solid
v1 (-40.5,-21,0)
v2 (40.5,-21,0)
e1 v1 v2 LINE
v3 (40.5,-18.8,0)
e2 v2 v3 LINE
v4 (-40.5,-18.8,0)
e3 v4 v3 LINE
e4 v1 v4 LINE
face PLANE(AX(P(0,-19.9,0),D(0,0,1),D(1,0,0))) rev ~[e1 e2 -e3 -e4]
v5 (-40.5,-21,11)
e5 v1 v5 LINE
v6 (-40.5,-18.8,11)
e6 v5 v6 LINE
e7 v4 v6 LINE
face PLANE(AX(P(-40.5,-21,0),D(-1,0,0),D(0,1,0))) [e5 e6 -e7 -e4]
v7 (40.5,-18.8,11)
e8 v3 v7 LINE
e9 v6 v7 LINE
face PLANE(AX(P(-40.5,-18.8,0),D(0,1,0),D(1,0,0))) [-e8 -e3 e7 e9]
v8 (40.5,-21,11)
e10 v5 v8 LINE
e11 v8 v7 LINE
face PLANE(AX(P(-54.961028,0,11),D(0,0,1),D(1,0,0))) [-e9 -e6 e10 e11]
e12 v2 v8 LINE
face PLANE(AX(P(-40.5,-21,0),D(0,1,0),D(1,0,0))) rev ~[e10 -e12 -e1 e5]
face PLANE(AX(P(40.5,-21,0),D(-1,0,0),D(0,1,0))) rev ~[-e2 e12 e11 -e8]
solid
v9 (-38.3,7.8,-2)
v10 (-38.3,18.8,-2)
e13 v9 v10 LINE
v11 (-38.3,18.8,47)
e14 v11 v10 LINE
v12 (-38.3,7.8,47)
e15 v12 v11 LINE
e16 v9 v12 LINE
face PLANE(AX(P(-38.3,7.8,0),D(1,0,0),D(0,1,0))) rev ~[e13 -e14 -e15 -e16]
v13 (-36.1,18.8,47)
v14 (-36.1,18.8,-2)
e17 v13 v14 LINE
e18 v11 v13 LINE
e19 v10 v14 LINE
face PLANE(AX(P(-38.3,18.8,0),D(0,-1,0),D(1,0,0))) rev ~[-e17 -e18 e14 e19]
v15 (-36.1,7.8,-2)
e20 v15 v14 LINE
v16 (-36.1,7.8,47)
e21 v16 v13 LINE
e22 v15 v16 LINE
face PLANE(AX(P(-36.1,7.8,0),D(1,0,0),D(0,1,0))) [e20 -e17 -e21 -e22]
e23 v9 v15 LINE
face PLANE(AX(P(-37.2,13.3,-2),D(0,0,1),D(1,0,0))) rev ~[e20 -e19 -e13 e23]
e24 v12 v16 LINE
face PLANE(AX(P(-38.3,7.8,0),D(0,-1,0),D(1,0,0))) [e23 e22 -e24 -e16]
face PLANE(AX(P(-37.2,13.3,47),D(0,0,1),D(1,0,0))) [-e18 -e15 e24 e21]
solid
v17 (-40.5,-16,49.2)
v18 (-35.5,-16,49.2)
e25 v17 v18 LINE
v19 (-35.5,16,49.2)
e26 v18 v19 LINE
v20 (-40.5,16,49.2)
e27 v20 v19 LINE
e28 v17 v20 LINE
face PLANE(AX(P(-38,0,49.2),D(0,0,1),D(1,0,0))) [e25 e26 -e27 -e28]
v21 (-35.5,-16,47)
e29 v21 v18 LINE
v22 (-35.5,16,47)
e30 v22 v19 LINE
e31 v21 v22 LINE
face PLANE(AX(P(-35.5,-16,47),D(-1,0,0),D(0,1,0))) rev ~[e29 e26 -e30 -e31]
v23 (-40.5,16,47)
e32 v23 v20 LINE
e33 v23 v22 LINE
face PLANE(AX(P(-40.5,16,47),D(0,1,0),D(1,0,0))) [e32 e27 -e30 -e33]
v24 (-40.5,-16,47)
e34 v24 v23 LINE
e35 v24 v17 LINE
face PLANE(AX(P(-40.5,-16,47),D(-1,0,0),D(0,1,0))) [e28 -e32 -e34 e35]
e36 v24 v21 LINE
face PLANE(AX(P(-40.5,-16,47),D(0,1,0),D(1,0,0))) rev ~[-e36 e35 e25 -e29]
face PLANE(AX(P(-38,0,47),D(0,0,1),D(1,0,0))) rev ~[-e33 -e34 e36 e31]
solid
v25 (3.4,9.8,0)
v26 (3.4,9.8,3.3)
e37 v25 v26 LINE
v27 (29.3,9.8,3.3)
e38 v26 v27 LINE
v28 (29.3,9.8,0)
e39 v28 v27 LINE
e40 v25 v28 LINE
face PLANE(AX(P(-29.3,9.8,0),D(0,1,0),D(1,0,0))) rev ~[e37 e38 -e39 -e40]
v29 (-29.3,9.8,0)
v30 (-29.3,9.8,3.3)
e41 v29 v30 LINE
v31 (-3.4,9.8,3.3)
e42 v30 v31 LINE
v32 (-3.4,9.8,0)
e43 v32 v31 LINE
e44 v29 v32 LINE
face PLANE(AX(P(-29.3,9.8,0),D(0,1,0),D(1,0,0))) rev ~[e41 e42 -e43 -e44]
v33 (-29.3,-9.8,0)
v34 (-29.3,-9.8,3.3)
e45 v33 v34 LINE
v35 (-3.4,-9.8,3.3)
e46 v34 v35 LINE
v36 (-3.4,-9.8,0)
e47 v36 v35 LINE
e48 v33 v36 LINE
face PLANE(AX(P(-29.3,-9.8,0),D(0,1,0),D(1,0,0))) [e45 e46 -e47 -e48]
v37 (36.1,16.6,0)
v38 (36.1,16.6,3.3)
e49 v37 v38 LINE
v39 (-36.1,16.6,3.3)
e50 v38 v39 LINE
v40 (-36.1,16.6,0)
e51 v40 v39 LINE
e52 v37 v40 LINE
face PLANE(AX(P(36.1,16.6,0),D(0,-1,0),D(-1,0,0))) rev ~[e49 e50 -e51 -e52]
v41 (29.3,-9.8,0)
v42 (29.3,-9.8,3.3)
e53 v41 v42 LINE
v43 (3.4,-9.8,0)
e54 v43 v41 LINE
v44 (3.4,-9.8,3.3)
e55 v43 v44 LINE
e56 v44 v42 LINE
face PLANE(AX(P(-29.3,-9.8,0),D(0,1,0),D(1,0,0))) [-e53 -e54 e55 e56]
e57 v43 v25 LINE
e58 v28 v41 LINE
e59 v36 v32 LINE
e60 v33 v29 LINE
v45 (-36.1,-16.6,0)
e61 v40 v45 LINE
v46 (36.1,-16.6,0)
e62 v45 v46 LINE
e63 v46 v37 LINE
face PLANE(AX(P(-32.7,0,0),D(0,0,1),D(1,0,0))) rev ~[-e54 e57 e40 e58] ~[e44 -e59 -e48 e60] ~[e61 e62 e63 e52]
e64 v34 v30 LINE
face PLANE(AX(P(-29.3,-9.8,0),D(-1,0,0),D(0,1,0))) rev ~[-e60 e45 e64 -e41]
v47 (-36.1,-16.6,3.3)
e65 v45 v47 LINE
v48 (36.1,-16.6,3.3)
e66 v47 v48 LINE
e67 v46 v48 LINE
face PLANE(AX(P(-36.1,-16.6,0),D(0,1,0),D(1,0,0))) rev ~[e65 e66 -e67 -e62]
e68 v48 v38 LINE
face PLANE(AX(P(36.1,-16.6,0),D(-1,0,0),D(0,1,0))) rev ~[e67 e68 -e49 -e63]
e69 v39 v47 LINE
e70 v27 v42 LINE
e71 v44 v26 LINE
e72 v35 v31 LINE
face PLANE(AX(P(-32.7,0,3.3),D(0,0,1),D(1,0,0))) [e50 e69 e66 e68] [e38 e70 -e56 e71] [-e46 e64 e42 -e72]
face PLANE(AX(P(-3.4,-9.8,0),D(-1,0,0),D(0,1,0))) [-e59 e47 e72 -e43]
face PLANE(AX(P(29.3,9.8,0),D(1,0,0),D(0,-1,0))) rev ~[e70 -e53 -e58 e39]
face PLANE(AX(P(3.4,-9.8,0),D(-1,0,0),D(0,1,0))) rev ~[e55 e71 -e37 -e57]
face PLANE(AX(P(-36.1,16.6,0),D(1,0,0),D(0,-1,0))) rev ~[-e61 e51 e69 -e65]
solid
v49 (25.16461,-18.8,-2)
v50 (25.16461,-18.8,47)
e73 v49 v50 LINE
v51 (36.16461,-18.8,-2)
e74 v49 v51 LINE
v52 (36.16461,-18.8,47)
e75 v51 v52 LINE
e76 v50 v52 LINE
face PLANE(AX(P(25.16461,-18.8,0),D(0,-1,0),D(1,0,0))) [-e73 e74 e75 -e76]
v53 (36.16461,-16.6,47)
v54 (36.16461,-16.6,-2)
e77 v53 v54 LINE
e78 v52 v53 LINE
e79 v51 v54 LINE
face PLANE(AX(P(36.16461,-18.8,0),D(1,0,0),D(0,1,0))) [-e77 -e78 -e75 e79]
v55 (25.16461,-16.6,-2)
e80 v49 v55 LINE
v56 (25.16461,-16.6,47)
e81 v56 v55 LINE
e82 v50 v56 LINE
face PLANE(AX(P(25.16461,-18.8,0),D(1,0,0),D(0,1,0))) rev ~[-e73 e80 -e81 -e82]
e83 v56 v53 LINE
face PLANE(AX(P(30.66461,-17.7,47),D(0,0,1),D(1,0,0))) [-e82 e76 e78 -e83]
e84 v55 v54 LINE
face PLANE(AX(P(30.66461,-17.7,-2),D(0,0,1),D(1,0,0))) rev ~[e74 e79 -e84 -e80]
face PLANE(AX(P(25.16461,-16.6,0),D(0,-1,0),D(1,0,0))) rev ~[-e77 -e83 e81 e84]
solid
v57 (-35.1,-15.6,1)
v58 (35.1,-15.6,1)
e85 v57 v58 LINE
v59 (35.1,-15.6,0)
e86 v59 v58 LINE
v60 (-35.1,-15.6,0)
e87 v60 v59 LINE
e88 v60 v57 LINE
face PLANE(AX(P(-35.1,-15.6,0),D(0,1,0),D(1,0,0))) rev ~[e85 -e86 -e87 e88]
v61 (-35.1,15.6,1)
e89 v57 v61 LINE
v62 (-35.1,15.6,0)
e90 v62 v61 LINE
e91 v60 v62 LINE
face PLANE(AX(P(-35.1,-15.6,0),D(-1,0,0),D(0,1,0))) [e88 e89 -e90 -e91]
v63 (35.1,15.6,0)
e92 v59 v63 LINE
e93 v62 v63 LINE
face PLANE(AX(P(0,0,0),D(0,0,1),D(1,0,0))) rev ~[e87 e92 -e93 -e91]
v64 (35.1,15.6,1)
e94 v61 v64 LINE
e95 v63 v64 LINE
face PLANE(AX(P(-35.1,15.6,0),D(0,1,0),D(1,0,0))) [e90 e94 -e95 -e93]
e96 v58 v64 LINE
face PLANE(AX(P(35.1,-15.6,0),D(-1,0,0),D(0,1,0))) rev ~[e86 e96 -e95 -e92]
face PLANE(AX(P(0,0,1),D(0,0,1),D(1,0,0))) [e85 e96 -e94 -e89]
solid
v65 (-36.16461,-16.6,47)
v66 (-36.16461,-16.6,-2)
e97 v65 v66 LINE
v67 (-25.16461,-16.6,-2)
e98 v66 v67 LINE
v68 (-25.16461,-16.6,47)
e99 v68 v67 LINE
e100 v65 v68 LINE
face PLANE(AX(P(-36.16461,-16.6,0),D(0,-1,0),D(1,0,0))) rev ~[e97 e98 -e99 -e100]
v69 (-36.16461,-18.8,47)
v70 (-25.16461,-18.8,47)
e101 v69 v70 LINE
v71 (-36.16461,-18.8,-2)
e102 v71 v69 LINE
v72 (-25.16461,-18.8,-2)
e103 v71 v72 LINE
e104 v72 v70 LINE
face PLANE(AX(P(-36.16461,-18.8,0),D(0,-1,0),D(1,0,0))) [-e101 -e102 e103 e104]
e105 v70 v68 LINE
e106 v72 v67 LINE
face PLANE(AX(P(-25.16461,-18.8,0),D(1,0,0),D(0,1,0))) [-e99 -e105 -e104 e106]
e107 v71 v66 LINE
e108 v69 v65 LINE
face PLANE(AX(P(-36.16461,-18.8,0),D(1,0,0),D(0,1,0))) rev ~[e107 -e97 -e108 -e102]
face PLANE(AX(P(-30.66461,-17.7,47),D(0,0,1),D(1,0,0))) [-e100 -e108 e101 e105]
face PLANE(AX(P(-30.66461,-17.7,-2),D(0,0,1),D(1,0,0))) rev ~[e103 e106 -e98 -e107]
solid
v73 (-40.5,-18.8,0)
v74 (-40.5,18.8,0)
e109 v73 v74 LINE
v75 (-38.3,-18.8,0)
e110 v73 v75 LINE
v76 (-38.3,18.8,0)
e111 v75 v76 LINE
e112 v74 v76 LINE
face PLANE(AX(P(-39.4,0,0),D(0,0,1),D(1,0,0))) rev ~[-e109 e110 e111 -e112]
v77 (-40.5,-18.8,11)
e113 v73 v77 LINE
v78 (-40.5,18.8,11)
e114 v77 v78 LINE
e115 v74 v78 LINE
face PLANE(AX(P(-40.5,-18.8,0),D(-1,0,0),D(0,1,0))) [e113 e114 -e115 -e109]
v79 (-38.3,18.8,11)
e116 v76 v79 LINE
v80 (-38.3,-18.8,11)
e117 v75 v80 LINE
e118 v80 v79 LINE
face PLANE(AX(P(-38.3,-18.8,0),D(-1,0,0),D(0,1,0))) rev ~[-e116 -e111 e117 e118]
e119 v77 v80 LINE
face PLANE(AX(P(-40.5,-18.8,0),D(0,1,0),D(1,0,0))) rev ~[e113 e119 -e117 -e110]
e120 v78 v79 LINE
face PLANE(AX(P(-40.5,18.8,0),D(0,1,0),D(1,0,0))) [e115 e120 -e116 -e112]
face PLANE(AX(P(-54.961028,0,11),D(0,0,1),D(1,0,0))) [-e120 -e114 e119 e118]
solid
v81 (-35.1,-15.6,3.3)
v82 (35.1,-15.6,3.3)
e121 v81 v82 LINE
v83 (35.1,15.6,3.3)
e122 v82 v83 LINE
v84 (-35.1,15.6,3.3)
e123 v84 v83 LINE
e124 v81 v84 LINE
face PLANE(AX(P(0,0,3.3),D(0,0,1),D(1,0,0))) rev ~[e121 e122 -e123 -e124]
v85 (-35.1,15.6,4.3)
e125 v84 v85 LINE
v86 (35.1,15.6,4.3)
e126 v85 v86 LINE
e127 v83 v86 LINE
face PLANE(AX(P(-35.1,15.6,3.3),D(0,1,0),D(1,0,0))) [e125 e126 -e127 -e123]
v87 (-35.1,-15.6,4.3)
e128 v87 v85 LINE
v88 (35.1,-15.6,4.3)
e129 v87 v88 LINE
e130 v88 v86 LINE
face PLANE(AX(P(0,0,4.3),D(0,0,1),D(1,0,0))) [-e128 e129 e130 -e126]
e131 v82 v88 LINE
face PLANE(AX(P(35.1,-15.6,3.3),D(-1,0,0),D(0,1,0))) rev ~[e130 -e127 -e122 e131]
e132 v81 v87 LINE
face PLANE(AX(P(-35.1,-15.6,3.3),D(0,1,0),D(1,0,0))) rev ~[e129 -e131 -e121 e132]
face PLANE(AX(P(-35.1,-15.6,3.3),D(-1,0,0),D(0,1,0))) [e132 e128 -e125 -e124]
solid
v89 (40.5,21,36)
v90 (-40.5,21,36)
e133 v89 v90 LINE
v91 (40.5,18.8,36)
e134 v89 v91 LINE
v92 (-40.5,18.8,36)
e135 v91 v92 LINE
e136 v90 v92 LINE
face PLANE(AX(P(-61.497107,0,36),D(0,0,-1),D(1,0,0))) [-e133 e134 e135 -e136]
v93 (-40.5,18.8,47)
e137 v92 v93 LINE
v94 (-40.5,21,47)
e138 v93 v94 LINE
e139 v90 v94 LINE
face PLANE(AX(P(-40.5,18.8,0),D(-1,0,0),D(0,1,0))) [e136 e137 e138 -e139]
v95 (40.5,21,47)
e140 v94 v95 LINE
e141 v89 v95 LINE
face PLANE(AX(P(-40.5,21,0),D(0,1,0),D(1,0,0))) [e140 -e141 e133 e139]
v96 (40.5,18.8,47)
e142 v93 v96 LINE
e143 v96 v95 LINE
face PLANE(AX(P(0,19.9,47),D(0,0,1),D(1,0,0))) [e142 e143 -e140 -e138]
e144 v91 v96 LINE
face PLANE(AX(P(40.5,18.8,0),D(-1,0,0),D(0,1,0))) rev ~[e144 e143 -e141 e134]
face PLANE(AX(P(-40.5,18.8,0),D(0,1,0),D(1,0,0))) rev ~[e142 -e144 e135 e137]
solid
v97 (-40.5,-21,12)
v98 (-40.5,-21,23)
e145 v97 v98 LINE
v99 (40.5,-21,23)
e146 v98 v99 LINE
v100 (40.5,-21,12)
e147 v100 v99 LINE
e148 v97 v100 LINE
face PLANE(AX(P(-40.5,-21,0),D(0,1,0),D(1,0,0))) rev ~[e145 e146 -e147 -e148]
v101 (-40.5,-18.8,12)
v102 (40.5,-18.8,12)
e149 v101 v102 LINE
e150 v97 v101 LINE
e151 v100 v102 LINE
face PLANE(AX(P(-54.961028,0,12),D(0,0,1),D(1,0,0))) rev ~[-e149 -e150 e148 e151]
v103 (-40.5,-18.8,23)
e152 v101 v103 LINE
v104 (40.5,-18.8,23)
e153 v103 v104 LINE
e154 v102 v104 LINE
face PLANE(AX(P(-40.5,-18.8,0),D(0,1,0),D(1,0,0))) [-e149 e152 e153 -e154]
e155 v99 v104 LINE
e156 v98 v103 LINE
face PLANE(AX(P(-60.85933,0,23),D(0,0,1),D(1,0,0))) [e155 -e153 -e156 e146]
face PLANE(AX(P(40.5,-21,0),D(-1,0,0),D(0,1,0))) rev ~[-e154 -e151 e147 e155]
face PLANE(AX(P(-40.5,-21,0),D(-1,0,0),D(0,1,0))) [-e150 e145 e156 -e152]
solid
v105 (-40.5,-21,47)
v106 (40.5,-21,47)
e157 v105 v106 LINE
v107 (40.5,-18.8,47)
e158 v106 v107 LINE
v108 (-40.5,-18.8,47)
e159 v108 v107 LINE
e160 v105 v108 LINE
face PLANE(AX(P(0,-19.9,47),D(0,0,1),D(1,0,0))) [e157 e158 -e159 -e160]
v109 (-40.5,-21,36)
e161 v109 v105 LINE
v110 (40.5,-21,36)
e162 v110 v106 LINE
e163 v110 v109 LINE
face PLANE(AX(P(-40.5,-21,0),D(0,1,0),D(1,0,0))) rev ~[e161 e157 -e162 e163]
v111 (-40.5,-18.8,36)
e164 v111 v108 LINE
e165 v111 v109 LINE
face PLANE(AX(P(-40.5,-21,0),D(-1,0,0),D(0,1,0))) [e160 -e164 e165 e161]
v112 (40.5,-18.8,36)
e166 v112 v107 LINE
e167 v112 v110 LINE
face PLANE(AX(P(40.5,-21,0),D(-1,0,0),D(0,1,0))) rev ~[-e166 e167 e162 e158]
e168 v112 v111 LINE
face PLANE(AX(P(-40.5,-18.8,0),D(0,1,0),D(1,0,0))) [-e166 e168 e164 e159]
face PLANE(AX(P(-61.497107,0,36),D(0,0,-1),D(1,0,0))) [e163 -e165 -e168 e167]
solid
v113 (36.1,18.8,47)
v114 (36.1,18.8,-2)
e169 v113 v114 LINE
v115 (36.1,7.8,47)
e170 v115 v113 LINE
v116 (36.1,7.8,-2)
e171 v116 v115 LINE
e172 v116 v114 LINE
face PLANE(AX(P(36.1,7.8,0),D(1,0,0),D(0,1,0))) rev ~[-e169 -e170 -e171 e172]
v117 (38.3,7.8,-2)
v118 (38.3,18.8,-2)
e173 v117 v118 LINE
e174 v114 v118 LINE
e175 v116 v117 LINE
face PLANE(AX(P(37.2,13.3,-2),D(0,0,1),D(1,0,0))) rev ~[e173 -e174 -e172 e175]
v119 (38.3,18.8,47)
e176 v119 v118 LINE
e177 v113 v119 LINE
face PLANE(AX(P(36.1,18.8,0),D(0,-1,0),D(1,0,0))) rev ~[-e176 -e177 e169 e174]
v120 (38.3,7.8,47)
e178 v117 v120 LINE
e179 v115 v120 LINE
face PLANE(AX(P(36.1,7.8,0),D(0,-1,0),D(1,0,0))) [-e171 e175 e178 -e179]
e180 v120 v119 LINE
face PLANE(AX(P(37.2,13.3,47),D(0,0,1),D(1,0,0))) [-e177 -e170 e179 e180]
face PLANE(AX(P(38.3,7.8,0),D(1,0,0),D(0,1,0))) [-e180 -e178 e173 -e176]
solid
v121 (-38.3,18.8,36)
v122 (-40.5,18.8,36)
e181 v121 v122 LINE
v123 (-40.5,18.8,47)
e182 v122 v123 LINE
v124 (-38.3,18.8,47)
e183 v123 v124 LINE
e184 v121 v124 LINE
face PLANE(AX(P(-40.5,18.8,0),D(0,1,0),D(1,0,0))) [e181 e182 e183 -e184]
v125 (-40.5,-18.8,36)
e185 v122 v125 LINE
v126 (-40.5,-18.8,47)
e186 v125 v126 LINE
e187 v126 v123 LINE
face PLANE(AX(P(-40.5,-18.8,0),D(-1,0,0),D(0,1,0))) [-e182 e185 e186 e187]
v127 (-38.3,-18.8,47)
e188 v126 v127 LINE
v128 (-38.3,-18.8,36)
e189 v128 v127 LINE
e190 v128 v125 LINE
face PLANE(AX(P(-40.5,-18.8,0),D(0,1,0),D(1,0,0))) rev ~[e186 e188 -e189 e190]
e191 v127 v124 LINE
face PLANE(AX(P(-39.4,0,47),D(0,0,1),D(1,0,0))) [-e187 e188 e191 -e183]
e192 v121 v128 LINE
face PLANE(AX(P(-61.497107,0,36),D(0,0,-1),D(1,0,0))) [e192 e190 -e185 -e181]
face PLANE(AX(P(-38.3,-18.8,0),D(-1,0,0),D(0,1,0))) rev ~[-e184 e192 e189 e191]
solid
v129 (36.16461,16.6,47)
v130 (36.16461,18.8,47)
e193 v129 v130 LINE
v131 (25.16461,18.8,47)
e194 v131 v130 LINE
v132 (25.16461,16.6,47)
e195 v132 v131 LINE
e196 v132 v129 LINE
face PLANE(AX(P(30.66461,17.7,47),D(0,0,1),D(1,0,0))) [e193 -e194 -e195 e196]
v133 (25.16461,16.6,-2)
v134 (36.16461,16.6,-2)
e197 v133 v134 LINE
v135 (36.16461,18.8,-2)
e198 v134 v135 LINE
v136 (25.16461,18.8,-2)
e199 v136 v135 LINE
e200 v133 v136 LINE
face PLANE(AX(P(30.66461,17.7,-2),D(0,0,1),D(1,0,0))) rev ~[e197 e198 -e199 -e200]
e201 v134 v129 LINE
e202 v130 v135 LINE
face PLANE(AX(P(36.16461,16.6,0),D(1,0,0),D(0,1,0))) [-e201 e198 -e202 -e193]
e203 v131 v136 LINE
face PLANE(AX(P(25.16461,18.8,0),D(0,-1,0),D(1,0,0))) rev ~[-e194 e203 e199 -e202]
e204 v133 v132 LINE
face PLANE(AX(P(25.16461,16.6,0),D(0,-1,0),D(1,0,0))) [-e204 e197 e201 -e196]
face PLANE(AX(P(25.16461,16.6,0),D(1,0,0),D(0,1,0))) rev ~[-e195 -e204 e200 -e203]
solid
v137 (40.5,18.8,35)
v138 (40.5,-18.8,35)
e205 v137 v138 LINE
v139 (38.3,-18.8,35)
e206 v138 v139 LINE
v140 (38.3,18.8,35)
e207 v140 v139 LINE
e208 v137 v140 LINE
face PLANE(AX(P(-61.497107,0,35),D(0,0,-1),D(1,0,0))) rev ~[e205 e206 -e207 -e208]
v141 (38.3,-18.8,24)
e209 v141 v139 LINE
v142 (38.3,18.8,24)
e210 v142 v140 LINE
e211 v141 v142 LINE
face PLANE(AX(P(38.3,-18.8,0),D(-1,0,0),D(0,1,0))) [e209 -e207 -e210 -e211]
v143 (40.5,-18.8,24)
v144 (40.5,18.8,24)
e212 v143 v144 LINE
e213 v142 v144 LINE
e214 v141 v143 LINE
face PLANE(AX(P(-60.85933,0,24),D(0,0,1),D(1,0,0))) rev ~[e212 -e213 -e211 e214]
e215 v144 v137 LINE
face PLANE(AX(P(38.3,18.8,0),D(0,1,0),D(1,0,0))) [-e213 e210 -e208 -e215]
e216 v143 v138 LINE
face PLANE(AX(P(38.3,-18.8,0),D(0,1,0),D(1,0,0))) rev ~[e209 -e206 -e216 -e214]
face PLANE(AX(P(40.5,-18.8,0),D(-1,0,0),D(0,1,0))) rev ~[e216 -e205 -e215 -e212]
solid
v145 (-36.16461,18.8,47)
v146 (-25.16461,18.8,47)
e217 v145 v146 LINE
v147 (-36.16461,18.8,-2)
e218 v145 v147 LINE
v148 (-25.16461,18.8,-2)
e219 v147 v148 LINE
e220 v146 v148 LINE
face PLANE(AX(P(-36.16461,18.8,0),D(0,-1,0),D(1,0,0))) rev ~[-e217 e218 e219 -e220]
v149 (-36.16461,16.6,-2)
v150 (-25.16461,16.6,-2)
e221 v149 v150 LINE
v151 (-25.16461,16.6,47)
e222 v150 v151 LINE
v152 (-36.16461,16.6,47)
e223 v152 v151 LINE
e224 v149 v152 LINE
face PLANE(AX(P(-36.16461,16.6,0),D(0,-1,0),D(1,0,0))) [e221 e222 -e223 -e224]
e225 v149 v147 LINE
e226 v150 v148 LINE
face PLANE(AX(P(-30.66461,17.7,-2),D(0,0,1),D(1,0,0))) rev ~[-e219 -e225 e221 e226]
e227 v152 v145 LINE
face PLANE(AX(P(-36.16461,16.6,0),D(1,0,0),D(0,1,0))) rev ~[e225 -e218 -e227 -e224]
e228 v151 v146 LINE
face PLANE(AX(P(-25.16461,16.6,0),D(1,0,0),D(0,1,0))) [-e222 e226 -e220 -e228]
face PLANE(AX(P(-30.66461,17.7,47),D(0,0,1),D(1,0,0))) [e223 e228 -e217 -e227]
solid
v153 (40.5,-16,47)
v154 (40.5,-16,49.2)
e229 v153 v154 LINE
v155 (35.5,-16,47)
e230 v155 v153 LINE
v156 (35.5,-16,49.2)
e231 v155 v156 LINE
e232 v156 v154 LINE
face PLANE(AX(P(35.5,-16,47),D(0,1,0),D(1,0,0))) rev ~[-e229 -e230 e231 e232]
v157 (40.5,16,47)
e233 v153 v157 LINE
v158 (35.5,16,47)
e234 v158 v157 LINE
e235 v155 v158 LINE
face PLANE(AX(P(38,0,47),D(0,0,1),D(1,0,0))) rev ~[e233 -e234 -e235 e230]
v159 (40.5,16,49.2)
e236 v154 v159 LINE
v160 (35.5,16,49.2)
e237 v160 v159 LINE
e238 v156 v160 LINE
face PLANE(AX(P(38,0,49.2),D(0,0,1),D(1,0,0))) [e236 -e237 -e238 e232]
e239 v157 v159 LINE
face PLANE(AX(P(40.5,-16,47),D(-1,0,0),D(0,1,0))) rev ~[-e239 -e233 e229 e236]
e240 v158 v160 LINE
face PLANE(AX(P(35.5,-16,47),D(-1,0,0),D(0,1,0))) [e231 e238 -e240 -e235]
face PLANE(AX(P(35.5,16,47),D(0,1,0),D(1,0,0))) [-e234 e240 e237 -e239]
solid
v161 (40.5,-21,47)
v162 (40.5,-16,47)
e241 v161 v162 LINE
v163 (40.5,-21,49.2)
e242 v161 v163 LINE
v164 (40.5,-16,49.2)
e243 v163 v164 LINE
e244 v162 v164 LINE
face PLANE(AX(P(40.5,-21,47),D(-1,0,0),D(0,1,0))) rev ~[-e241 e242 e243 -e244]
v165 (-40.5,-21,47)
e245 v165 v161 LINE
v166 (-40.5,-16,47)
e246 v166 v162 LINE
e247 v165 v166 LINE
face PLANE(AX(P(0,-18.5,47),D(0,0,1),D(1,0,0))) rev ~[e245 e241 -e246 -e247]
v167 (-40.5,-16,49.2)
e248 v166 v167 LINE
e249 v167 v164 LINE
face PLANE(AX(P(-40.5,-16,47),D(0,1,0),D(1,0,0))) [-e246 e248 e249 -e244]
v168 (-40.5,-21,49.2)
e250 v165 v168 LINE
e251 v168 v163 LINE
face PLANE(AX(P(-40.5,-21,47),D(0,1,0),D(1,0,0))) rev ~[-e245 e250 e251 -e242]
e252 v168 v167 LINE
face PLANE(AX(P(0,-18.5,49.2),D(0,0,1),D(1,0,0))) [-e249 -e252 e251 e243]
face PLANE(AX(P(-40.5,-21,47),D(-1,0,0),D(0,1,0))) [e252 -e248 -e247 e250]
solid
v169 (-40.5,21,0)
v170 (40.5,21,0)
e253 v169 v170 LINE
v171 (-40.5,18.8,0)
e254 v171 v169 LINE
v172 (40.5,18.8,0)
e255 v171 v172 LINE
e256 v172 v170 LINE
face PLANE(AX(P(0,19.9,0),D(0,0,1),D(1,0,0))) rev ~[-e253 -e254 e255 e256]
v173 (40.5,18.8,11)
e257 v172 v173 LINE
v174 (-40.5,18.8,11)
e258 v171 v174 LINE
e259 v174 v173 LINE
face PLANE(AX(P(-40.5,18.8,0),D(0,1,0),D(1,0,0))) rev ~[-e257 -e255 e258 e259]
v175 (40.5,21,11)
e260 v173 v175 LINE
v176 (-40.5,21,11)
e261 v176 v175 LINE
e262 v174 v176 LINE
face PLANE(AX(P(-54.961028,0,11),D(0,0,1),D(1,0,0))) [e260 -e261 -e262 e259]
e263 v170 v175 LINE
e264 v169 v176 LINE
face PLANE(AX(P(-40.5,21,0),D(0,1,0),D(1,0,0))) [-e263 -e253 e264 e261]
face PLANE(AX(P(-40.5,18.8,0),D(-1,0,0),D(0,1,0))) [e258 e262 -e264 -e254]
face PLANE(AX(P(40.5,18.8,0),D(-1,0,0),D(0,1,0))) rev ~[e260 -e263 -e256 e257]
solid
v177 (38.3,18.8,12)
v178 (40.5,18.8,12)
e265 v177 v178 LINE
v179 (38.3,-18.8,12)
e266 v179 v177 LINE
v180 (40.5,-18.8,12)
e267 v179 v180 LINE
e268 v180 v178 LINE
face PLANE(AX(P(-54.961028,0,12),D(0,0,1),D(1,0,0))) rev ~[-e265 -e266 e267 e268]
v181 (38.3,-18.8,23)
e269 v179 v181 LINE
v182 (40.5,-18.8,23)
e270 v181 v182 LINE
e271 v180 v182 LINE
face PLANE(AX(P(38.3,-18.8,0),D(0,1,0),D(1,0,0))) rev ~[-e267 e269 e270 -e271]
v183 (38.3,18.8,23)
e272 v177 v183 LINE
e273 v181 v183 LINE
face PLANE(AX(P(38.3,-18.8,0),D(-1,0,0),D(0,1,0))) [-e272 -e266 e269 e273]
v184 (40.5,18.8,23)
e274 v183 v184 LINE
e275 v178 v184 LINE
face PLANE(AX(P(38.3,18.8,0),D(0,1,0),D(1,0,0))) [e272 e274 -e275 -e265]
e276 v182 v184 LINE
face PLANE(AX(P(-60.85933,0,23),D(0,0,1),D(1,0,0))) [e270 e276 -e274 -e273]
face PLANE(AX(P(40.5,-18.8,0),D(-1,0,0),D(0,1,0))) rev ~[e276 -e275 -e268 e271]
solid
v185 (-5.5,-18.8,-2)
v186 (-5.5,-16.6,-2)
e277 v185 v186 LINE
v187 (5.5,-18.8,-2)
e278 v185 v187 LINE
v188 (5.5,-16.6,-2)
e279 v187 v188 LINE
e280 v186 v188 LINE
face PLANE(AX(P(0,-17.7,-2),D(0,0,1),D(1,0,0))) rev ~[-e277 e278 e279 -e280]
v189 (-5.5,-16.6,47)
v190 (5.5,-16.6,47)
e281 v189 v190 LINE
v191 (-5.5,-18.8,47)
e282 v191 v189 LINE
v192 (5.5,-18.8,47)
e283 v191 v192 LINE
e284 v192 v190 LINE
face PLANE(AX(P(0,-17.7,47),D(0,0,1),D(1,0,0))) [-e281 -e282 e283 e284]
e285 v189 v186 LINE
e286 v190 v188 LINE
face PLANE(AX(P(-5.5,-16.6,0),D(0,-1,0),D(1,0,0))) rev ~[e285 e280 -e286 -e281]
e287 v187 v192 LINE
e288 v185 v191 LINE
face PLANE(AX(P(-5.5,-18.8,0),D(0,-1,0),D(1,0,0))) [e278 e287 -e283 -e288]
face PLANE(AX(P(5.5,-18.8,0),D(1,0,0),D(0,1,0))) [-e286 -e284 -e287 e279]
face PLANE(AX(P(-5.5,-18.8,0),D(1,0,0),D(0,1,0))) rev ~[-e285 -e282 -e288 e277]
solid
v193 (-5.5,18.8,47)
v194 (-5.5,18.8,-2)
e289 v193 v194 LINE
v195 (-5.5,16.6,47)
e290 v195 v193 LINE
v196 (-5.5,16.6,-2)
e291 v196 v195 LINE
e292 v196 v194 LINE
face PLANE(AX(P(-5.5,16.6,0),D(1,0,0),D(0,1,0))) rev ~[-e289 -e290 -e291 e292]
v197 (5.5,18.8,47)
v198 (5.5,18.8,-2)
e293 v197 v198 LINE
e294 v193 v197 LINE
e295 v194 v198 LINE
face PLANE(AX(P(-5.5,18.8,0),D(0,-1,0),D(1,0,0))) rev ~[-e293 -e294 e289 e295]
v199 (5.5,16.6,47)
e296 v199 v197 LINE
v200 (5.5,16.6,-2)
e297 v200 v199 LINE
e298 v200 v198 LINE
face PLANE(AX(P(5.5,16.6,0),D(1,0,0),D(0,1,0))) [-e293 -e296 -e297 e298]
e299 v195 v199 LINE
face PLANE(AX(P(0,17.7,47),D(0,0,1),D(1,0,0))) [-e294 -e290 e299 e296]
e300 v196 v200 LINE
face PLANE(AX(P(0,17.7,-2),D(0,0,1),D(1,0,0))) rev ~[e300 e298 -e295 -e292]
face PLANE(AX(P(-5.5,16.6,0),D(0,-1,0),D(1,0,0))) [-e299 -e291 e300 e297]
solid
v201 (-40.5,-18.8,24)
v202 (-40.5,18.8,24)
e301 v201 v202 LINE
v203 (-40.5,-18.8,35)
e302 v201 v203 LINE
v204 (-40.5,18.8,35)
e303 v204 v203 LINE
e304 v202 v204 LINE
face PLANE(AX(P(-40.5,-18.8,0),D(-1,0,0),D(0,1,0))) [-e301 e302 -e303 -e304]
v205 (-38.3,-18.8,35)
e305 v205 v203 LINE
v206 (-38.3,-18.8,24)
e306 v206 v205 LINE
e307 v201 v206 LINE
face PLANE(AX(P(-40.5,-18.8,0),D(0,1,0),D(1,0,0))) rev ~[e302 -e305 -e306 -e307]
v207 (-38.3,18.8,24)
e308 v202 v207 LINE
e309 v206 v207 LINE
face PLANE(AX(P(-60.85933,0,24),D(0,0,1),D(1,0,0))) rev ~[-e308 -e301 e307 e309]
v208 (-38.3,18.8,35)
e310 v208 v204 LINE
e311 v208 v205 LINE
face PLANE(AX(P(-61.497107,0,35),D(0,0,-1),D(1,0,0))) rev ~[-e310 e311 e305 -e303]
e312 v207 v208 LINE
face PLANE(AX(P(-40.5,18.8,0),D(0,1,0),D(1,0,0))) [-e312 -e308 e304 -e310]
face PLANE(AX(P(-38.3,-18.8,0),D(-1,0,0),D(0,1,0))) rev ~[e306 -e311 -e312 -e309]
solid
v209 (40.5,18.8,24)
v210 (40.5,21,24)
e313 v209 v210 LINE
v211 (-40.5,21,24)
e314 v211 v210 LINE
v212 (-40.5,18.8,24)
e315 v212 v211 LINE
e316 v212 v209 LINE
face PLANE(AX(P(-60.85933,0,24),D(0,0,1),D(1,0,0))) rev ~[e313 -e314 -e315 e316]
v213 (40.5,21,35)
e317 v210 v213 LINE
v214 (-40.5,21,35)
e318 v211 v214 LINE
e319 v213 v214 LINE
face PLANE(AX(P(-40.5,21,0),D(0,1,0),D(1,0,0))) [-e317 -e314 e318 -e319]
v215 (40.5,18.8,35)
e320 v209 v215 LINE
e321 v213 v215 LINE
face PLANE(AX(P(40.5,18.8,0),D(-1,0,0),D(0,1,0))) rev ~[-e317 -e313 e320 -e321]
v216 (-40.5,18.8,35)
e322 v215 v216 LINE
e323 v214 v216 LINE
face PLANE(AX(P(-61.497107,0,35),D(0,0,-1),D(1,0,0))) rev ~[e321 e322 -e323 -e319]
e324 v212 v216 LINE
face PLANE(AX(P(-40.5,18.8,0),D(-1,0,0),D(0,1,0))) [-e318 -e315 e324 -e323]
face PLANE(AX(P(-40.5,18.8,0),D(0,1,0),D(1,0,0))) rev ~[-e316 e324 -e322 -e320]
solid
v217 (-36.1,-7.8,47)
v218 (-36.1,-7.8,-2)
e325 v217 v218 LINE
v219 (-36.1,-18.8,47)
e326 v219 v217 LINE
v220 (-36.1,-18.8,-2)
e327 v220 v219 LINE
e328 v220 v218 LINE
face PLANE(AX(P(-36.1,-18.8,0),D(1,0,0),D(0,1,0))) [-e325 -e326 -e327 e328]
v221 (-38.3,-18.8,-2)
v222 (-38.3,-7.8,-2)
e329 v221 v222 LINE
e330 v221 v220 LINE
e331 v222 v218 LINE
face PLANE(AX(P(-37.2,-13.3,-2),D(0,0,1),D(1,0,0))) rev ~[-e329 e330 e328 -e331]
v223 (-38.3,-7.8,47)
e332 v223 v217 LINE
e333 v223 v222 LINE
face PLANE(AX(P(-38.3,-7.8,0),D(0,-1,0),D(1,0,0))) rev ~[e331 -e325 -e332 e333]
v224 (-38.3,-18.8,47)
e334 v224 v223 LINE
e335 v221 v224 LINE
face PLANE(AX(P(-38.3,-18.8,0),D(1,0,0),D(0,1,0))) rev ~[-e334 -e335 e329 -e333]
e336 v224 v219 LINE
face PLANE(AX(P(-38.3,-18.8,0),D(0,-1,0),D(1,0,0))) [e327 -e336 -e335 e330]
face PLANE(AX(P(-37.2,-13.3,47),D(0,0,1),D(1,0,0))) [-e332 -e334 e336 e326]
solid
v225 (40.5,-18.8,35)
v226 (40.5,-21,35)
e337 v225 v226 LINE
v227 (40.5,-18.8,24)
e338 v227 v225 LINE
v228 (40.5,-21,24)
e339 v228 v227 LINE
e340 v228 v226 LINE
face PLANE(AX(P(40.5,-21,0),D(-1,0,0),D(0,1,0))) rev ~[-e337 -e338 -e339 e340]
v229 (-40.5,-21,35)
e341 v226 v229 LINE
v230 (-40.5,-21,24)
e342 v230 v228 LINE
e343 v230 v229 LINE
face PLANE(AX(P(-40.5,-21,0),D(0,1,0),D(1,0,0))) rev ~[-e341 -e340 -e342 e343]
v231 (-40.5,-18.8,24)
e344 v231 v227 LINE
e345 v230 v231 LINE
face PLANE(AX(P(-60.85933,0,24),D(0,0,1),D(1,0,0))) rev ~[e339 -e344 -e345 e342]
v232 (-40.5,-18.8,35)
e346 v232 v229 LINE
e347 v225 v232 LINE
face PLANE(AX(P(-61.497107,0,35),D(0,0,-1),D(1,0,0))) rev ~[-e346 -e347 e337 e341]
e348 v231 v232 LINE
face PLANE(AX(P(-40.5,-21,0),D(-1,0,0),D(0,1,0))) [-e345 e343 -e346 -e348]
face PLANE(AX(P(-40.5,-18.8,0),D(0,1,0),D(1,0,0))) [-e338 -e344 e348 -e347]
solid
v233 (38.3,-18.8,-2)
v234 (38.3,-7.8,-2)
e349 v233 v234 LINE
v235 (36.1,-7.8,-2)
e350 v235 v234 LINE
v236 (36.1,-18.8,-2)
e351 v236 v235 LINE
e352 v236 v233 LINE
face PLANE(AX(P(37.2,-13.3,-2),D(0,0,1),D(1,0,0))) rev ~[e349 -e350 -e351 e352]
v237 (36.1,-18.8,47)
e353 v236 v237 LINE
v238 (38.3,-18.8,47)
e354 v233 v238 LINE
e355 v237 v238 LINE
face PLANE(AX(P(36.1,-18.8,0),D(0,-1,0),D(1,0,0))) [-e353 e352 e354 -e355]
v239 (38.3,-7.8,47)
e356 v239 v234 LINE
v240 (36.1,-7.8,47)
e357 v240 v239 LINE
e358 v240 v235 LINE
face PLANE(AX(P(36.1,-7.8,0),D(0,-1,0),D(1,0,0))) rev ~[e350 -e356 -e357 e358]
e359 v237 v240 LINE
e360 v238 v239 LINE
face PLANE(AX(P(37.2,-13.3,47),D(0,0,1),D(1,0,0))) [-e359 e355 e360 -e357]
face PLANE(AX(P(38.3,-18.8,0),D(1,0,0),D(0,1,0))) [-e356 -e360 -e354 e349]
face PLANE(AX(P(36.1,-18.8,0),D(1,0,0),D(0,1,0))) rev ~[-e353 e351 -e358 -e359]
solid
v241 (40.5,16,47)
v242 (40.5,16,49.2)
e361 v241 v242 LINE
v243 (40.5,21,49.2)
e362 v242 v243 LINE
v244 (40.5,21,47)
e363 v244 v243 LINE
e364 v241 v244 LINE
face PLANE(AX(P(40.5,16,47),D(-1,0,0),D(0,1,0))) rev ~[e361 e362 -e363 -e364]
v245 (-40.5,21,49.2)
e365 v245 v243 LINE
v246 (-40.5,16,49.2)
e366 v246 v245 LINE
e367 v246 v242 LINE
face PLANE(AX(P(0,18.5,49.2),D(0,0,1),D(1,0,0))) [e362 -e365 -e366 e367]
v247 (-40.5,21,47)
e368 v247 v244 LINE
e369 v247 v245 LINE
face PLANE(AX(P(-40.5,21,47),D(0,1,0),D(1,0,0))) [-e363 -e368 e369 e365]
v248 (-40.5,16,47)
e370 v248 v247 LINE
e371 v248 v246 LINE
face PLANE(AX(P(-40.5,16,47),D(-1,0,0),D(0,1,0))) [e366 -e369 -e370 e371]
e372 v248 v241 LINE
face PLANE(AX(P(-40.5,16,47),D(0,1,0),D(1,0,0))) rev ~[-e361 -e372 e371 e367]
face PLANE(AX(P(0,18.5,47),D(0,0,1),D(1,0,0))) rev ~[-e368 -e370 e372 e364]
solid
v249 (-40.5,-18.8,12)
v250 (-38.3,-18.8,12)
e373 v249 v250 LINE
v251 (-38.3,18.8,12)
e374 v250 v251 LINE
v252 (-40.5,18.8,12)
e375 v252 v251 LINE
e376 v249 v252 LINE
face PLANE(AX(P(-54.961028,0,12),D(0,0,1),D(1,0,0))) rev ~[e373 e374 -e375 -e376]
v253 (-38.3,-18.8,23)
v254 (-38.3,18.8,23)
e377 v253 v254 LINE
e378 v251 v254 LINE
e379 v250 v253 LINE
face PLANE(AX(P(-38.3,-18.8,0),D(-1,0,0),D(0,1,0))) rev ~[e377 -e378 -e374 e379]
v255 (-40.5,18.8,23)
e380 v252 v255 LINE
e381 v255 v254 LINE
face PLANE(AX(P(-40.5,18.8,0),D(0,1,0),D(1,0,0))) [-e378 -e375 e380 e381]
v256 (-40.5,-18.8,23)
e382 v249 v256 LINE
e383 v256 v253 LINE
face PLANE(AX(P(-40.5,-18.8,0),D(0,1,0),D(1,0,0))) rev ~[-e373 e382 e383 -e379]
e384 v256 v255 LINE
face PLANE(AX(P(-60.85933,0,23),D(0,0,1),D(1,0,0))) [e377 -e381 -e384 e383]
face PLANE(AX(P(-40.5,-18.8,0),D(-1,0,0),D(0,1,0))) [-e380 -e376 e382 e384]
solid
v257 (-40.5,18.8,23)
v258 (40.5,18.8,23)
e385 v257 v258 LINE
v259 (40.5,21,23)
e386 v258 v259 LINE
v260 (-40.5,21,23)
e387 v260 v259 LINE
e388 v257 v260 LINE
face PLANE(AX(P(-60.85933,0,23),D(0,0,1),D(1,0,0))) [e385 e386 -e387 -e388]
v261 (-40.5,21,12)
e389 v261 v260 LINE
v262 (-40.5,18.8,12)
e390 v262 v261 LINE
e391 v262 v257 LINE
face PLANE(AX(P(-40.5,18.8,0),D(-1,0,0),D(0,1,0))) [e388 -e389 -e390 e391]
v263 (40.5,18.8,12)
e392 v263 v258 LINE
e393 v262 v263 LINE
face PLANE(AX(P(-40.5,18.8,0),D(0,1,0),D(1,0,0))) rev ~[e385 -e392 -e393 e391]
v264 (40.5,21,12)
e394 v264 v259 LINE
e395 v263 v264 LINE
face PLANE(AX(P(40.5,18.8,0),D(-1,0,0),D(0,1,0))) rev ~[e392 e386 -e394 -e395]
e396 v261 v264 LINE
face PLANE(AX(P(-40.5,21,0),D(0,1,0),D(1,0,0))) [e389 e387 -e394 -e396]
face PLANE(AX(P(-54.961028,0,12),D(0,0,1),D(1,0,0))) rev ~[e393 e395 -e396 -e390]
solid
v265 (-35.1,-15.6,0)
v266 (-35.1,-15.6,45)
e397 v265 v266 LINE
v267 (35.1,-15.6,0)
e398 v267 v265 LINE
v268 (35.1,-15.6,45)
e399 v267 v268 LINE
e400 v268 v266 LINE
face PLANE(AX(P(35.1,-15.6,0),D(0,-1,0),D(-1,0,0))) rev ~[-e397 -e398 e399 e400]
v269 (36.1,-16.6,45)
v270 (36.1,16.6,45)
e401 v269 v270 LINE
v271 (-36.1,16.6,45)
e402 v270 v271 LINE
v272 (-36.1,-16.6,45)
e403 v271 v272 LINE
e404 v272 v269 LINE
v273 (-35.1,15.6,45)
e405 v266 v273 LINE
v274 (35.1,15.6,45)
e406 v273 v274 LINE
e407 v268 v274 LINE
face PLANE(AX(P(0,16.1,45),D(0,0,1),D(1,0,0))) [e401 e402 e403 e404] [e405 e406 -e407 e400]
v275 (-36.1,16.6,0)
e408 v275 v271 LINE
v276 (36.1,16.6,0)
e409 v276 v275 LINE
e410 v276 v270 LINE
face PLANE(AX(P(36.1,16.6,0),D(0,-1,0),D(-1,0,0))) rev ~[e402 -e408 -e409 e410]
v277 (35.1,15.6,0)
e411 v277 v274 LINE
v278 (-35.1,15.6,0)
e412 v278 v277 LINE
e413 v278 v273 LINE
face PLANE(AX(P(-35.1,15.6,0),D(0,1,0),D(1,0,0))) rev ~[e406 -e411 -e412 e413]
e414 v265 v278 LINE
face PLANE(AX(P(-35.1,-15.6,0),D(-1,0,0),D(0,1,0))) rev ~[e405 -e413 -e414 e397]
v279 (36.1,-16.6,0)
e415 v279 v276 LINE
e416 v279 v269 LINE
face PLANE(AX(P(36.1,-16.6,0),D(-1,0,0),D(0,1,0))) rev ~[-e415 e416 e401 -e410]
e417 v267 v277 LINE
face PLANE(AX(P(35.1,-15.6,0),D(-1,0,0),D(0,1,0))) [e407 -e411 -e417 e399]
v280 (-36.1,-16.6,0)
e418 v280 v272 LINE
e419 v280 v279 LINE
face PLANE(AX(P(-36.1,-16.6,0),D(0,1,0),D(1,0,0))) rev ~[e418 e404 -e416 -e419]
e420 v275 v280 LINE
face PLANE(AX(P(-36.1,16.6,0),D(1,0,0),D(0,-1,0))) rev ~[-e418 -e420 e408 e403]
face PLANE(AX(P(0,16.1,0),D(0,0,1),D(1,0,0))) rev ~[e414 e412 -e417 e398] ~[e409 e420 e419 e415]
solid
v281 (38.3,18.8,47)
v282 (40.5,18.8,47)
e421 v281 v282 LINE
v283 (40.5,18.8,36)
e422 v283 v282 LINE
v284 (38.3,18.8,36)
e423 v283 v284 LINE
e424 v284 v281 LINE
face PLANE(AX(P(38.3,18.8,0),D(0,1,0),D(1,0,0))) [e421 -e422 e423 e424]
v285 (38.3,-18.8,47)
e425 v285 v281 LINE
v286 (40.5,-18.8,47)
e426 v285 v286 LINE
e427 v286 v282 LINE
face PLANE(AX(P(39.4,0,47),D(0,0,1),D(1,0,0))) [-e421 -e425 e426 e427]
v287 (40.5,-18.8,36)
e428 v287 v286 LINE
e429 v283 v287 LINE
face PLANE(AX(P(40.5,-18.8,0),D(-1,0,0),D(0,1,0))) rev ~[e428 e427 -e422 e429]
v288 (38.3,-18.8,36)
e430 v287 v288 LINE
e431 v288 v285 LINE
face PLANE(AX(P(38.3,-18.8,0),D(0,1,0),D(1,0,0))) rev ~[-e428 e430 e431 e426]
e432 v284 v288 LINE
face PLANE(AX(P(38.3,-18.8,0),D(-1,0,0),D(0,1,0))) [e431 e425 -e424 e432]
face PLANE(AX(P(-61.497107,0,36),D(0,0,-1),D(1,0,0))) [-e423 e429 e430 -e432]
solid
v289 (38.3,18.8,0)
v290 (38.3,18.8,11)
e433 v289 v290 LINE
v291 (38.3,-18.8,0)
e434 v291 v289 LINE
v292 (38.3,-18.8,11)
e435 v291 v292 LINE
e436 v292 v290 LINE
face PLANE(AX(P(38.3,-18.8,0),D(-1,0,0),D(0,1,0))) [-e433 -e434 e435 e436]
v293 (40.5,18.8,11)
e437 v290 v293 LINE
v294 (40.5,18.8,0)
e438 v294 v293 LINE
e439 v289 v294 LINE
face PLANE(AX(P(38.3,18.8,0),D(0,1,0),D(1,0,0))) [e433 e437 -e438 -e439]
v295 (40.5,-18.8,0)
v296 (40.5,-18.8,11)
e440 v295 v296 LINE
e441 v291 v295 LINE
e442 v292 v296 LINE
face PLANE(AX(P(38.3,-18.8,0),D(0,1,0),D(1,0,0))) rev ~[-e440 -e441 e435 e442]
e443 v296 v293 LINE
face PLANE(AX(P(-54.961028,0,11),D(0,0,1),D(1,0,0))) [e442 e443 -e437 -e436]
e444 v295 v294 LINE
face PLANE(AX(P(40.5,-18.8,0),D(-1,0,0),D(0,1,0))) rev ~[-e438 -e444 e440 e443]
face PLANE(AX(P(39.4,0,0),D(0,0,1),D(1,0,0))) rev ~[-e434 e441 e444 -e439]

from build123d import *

# Parameters (mm, degrees)
F2_W           = 2.2
F2_H           = 37.6
F3_DEPTH       = 47
F1_W           = 81
F1_H           = 2.2
F4_W           = 114.100013802
F4_H           = 1
F4_W_2         = 121.7789687216
F4_W_3         = 120.9573857486
F5_DEPTH       = 30
F6_W           = 2.2
F6_H           = 11
F7_DEPTH       = 47
F7_DEPTH_BACK  = 2
F8_W           = 11
F8_H           = 2.2
F9_DEPTH       = 47
F9_DEPTH_BACK  = 2
F10_W          = 58.6
F10_H          = 6.8
F11_DEPTH      = 3.3
F12_W          = 6.8
F12_H          = 19.6
F13_DEPTH      = 3.3
F14_W          = 1
F14_H          = 31.2
F15_DEPTH      = 45
F16_W          = 70.2
F16_H          = 31.2
F17_DEPTH      = 1
F18_W          = 81
F18_H          = 5
F19_DEPTH      = 2.2
F20_W          = 5
F20_H          = 32
F21_DEPTH      = 2.2
F22_W          = 70.2
F22_H          = 31.2
F23_DEPTH      = 1
F24_W          = 11
F24_H          = 2.2
F25_DEPTH      = 47
F25_DEPTH_BACK = 2


with BuildPart() as f3:
    # F2 (on Top) → F3 (new body)
    with BuildSketch(Plane.XY):
        with Locations((-39.4, 0)):
            Rectangle(F2_W, F2_H)
    extrude(amount=F3_DEPTH)


with BuildPart() as f3b:
    # F2 (on Top) → F3, piece 2 (new body)
    with BuildSketch(Plane.XY):
        with Locations((39.4, 0)):
            Rectangle(F2_W, F2_H)
    extrude(amount=F3_DEPTH)


with BuildPart() as f3c:
    # F1 (on Top) → F3, piece 3 (new body)
    with BuildSketch(Plane.XY):
        with Locations((0, 19.9)):
            Rectangle(F1_W, F1_H)
    extrude(amount=F3_DEPTH)


with BuildPart() as f3d:
    # F1 (on Top) → F3, piece 4 (new body)
    with BuildSketch(Plane.XY):
        with Locations((0, -19.9)):
            Rectangle(F1_W, F1_H)
    extrude(amount=F3_DEPTH)


with BuildPart() as f5_tool:
    # F4 (on Front) → F5 (new body, symmetric)
    with BuildSketch(Plane.XZ):
        with Locations((2.0889788866, 11.5)):
            Rectangle(F4_W, F4_H)
        with Locations((0.0301543623, 23.5)):
            Rectangle(F4_W_2, F4_H)
        with Locations((-1.0184142739, 35.5)):
            Rectangle(F4_W_3, F4_H)
    extrude(amount=F5_DEPTH, both=True)


with BuildPart() as f3_1:
    add(f3.part)

    # F5: cut by f5_tool
    add(f5_tool.part, mode=Mode.SUBTRACT)


with BuildPart() as f3b_1:
    add(f3b.part)

    # F5: cut by f5_tool
    add(f5_tool.part, mode=Mode.SUBTRACT)


with BuildPart() as f3c_1:
    add(f3c.part)

    # F5: cut by f5_tool
    add(f5_tool.part, mode=Mode.SUBTRACT)


with BuildPart() as f3d_1:
    add(f3d.part)

    # F5: cut by f5_tool
    add(f5_tool.part, mode=Mode.SUBTRACT)


with BuildPart() as f7:
    # F6 (on Top) → F7 (new body, two sides)
    with BuildSketch(Plane.XY) as f7_sk:
        with Locations((-37.2, 13.3)):
            Rectangle(F6_W, F6_H)
    extrude(amount=F7_DEPTH)
    extrude(f7_sk.sketch, amount=-F7_DEPTH_BACK)


with BuildPart() as f7b:
    # F6 (on Top) → F7, piece 2 (new body, two sides)
    with BuildSketch(Plane.XY) as f7_2_sk:
        with Locations((-37.2, -13.3)):
            Rectangle(F6_W, F6_H)
    extrude(amount=F7_DEPTH)
    extrude(f7_2_sk.sketch, amount=-F7_DEPTH_BACK)


with BuildPart() as f7c:
    # F6 (on Top) → F7, piece 3 (new body, two sides)
    with BuildSketch(Plane.XY) as f7_3_sk:
        with Locations((37.2, 13.3)):
            Rectangle(F6_W, F6_H)
    extrude(amount=F7_DEPTH)
    extrude(f7_3_sk.sketch, amount=-F7_DEPTH_BACK)


with BuildPart() as f7d:
    # F6 (on Top) → F7, piece 4 (new body, two sides)
    with BuildSketch(Plane.XY) as f7_4_sk:
        with Locations((37.2, -13.3)):
            Rectangle(F6_W, F6_H)
    extrude(amount=F7_DEPTH)
    extrude(f7_4_sk.sketch, amount=-F7_DEPTH_BACK)


with BuildPart() as f9:
    # F8 (on Top) → F9 (new body, two sides)
    with BuildSketch(Plane.XY) as f9_sk:
        with Locations((-30.6646097228, 17.7)):
            Rectangle(F8_W, F8_H)
    extrude(amount=F9_DEPTH)
    extrude(f9_sk.sketch, amount=-F9_DEPTH_BACK)


with BuildPart() as f9b:
    # F8 (on Top) → F9, piece 2 (new body, two sides)
    with BuildSketch(Plane.XY) as f9_2_sk:
        with Locations((-30.6646097228, -17.7)):
            Rectangle(F8_W, F8_H)
    extrude(amount=F9_DEPTH)
    extrude(f9_2_sk.sketch, amount=-F9_DEPTH_BACK)


with BuildPart() as f9c:
    # F8 (on Top) → F9, piece 3 (new body, two sides)
    with BuildSketch(Plane.XY) as f9_3_sk:
        with Locations((30.6646097228, 17.7)):
            Rectangle(F8_W, F8_H)
    extrude(amount=F9_DEPTH)
    extrude(f9_3_sk.sketch, amount=-F9_DEPTH_BACK)


with BuildPart() as f9d:
    # F8 (on Top) → F9, piece 4 (new body, two sides)
    with BuildSketch(Plane.XY) as f9_4_sk:
        with Locations((30.6646097228, -17.7)):
            Rectangle(F8_W, F8_H)
    extrude(amount=F9_DEPTH)
    extrude(f9_4_sk.sketch, amount=-F9_DEPTH_BACK)


with BuildPart() as f11:
    # F10 (on Top) → F11 (new body)
    with BuildSketch(Plane.XY):
        Polygon((-29.3, 16.6), (-36.1, 16.6), (-36.1, -16.6), (-29.3, -16.6), (-29.3, -9.8), (-29.3, 9.8), align=None)
        with Locations((0, 13.2)):
            Rectangle(F10_W, F10_H)
        Polygon((36.1, 16.6), (29.3, 16.6), (29.3, 9.8), (29.3, -9.8), (29.3, -16.6), (36.1, -16.6), align=None)
        with Locations((0, -13.2)):
            Rectangle(F10_W, F10_H)
    extrude(amount=F11_DEPTH)

    # F12 (on Top) → F13 (join)
    with BuildSketch(Plane.XY):
        Rectangle(F12_W, F12_H)
    extrude(amount=F13_DEPTH)


with BuildPart() as f15:
    # F14 (on Top) → F15 (new body)
    with BuildSketch(Plane.XY):
        Polygon((36.1, 16.6), (-36.1, 16.6), (-36.1, 15.6), (-35.1, 15.6), (35.1, 15.6), (36.1, 15.6), align=None)
        with Locations((-35.6, 0)):
            Rectangle(F14_W, F14_H)
        with Locations((35.6, 0)):
            Rectangle(F14_W, F14_H)
        Polygon((-35.1, -15.6), (-36.1, -15.6), (-36.1, -16.6), (36.1, -16.6), (36.1, -15.6), (35.1, -15.6), align=None)
    extrude(amount=F15_DEPTH)


with BuildPart() as f17:
    # F16 (on Top) → F17 (new body)
    with BuildSketch(Plane.XY):
        Rectangle(F16_W, F16_H)
    extrude(amount=F17_DEPTH)


with BuildPart() as f19:
    # F18 (on face) → F19 (new body)
    with BuildSketch(Plane.XY.offset(47)):
        with Locations((0, 18.5)):
            Rectangle(F18_W, F18_H)
    extrude(amount=F19_DEPTH)


with BuildPart() as f19b:
    # F18 (on face) → F19, piece 2 (new body)
    with BuildSketch(Plane.XY.offset(47)):
        with Locations((0, -18.5)):
            Rectangle(F18_W, F18_H)
    extrude(amount=F19_DEPTH)


with BuildPart() as f21:
    # F20 (on face) → F21 (new body)
    with BuildSketch(Plane.XY.offset(47)):
        with Locations((-38, 0)):
            Rectangle(F20_W, F20_H)
    extrude(amount=F21_DEPTH)


with BuildPart() as f21b:
    # F20 (on face) → F21, piece 2 (new body)
    with BuildSketch(Plane.XY.offset(47)):
        with Locations((38, 0)):
            Rectangle(F20_W, F20_H)
    extrude(amount=F21_DEPTH)


with BuildPart() as f23:
    # F22 (on face) → F23 (new body)
    with BuildSketch(Plane.XY.offset(3.3)):
        Rectangle(F22_W, F22_H)
    extrude(amount=F23_DEPTH)


with BuildPart() as f25:
    # F24 (on Top) → F25 (new body, two sides)
    with BuildSketch(Plane.XY) as f25_sk:
        with Locations((0, 17.7)):
            Rectangle(F24_W, F24_H)
    extrude(amount=F25_DEPTH)
    extrude(f25_sk.sketch, amount=-F25_DEPTH_BACK)


with BuildPart() as f25b:
    # F24 (on Top) → F25, piece 2 (new body, two sides)
    with BuildSketch(Plane.XY) as f25_2_sk:
        with Locations((0, -17.7)):
            Rectangle(F24_W, F24_H)
    extrude(amount=F25_DEPTH)
    extrude(f25_2_sk.sketch, amount=-F25_DEPTH_BACK)


solid = Compound([f3_1.part, f3b_1.part, f3c_1.part, f3d_1.part, f7.part, f7b.part, f7c.part, f7d.part, f9.part, f9b.part, f9c.part, f9d.part, f11.part, f15.part, f17.part, f19.part, f19b.part, f21.part, f21b.part, f23.part, f25.part, f25b.part])
